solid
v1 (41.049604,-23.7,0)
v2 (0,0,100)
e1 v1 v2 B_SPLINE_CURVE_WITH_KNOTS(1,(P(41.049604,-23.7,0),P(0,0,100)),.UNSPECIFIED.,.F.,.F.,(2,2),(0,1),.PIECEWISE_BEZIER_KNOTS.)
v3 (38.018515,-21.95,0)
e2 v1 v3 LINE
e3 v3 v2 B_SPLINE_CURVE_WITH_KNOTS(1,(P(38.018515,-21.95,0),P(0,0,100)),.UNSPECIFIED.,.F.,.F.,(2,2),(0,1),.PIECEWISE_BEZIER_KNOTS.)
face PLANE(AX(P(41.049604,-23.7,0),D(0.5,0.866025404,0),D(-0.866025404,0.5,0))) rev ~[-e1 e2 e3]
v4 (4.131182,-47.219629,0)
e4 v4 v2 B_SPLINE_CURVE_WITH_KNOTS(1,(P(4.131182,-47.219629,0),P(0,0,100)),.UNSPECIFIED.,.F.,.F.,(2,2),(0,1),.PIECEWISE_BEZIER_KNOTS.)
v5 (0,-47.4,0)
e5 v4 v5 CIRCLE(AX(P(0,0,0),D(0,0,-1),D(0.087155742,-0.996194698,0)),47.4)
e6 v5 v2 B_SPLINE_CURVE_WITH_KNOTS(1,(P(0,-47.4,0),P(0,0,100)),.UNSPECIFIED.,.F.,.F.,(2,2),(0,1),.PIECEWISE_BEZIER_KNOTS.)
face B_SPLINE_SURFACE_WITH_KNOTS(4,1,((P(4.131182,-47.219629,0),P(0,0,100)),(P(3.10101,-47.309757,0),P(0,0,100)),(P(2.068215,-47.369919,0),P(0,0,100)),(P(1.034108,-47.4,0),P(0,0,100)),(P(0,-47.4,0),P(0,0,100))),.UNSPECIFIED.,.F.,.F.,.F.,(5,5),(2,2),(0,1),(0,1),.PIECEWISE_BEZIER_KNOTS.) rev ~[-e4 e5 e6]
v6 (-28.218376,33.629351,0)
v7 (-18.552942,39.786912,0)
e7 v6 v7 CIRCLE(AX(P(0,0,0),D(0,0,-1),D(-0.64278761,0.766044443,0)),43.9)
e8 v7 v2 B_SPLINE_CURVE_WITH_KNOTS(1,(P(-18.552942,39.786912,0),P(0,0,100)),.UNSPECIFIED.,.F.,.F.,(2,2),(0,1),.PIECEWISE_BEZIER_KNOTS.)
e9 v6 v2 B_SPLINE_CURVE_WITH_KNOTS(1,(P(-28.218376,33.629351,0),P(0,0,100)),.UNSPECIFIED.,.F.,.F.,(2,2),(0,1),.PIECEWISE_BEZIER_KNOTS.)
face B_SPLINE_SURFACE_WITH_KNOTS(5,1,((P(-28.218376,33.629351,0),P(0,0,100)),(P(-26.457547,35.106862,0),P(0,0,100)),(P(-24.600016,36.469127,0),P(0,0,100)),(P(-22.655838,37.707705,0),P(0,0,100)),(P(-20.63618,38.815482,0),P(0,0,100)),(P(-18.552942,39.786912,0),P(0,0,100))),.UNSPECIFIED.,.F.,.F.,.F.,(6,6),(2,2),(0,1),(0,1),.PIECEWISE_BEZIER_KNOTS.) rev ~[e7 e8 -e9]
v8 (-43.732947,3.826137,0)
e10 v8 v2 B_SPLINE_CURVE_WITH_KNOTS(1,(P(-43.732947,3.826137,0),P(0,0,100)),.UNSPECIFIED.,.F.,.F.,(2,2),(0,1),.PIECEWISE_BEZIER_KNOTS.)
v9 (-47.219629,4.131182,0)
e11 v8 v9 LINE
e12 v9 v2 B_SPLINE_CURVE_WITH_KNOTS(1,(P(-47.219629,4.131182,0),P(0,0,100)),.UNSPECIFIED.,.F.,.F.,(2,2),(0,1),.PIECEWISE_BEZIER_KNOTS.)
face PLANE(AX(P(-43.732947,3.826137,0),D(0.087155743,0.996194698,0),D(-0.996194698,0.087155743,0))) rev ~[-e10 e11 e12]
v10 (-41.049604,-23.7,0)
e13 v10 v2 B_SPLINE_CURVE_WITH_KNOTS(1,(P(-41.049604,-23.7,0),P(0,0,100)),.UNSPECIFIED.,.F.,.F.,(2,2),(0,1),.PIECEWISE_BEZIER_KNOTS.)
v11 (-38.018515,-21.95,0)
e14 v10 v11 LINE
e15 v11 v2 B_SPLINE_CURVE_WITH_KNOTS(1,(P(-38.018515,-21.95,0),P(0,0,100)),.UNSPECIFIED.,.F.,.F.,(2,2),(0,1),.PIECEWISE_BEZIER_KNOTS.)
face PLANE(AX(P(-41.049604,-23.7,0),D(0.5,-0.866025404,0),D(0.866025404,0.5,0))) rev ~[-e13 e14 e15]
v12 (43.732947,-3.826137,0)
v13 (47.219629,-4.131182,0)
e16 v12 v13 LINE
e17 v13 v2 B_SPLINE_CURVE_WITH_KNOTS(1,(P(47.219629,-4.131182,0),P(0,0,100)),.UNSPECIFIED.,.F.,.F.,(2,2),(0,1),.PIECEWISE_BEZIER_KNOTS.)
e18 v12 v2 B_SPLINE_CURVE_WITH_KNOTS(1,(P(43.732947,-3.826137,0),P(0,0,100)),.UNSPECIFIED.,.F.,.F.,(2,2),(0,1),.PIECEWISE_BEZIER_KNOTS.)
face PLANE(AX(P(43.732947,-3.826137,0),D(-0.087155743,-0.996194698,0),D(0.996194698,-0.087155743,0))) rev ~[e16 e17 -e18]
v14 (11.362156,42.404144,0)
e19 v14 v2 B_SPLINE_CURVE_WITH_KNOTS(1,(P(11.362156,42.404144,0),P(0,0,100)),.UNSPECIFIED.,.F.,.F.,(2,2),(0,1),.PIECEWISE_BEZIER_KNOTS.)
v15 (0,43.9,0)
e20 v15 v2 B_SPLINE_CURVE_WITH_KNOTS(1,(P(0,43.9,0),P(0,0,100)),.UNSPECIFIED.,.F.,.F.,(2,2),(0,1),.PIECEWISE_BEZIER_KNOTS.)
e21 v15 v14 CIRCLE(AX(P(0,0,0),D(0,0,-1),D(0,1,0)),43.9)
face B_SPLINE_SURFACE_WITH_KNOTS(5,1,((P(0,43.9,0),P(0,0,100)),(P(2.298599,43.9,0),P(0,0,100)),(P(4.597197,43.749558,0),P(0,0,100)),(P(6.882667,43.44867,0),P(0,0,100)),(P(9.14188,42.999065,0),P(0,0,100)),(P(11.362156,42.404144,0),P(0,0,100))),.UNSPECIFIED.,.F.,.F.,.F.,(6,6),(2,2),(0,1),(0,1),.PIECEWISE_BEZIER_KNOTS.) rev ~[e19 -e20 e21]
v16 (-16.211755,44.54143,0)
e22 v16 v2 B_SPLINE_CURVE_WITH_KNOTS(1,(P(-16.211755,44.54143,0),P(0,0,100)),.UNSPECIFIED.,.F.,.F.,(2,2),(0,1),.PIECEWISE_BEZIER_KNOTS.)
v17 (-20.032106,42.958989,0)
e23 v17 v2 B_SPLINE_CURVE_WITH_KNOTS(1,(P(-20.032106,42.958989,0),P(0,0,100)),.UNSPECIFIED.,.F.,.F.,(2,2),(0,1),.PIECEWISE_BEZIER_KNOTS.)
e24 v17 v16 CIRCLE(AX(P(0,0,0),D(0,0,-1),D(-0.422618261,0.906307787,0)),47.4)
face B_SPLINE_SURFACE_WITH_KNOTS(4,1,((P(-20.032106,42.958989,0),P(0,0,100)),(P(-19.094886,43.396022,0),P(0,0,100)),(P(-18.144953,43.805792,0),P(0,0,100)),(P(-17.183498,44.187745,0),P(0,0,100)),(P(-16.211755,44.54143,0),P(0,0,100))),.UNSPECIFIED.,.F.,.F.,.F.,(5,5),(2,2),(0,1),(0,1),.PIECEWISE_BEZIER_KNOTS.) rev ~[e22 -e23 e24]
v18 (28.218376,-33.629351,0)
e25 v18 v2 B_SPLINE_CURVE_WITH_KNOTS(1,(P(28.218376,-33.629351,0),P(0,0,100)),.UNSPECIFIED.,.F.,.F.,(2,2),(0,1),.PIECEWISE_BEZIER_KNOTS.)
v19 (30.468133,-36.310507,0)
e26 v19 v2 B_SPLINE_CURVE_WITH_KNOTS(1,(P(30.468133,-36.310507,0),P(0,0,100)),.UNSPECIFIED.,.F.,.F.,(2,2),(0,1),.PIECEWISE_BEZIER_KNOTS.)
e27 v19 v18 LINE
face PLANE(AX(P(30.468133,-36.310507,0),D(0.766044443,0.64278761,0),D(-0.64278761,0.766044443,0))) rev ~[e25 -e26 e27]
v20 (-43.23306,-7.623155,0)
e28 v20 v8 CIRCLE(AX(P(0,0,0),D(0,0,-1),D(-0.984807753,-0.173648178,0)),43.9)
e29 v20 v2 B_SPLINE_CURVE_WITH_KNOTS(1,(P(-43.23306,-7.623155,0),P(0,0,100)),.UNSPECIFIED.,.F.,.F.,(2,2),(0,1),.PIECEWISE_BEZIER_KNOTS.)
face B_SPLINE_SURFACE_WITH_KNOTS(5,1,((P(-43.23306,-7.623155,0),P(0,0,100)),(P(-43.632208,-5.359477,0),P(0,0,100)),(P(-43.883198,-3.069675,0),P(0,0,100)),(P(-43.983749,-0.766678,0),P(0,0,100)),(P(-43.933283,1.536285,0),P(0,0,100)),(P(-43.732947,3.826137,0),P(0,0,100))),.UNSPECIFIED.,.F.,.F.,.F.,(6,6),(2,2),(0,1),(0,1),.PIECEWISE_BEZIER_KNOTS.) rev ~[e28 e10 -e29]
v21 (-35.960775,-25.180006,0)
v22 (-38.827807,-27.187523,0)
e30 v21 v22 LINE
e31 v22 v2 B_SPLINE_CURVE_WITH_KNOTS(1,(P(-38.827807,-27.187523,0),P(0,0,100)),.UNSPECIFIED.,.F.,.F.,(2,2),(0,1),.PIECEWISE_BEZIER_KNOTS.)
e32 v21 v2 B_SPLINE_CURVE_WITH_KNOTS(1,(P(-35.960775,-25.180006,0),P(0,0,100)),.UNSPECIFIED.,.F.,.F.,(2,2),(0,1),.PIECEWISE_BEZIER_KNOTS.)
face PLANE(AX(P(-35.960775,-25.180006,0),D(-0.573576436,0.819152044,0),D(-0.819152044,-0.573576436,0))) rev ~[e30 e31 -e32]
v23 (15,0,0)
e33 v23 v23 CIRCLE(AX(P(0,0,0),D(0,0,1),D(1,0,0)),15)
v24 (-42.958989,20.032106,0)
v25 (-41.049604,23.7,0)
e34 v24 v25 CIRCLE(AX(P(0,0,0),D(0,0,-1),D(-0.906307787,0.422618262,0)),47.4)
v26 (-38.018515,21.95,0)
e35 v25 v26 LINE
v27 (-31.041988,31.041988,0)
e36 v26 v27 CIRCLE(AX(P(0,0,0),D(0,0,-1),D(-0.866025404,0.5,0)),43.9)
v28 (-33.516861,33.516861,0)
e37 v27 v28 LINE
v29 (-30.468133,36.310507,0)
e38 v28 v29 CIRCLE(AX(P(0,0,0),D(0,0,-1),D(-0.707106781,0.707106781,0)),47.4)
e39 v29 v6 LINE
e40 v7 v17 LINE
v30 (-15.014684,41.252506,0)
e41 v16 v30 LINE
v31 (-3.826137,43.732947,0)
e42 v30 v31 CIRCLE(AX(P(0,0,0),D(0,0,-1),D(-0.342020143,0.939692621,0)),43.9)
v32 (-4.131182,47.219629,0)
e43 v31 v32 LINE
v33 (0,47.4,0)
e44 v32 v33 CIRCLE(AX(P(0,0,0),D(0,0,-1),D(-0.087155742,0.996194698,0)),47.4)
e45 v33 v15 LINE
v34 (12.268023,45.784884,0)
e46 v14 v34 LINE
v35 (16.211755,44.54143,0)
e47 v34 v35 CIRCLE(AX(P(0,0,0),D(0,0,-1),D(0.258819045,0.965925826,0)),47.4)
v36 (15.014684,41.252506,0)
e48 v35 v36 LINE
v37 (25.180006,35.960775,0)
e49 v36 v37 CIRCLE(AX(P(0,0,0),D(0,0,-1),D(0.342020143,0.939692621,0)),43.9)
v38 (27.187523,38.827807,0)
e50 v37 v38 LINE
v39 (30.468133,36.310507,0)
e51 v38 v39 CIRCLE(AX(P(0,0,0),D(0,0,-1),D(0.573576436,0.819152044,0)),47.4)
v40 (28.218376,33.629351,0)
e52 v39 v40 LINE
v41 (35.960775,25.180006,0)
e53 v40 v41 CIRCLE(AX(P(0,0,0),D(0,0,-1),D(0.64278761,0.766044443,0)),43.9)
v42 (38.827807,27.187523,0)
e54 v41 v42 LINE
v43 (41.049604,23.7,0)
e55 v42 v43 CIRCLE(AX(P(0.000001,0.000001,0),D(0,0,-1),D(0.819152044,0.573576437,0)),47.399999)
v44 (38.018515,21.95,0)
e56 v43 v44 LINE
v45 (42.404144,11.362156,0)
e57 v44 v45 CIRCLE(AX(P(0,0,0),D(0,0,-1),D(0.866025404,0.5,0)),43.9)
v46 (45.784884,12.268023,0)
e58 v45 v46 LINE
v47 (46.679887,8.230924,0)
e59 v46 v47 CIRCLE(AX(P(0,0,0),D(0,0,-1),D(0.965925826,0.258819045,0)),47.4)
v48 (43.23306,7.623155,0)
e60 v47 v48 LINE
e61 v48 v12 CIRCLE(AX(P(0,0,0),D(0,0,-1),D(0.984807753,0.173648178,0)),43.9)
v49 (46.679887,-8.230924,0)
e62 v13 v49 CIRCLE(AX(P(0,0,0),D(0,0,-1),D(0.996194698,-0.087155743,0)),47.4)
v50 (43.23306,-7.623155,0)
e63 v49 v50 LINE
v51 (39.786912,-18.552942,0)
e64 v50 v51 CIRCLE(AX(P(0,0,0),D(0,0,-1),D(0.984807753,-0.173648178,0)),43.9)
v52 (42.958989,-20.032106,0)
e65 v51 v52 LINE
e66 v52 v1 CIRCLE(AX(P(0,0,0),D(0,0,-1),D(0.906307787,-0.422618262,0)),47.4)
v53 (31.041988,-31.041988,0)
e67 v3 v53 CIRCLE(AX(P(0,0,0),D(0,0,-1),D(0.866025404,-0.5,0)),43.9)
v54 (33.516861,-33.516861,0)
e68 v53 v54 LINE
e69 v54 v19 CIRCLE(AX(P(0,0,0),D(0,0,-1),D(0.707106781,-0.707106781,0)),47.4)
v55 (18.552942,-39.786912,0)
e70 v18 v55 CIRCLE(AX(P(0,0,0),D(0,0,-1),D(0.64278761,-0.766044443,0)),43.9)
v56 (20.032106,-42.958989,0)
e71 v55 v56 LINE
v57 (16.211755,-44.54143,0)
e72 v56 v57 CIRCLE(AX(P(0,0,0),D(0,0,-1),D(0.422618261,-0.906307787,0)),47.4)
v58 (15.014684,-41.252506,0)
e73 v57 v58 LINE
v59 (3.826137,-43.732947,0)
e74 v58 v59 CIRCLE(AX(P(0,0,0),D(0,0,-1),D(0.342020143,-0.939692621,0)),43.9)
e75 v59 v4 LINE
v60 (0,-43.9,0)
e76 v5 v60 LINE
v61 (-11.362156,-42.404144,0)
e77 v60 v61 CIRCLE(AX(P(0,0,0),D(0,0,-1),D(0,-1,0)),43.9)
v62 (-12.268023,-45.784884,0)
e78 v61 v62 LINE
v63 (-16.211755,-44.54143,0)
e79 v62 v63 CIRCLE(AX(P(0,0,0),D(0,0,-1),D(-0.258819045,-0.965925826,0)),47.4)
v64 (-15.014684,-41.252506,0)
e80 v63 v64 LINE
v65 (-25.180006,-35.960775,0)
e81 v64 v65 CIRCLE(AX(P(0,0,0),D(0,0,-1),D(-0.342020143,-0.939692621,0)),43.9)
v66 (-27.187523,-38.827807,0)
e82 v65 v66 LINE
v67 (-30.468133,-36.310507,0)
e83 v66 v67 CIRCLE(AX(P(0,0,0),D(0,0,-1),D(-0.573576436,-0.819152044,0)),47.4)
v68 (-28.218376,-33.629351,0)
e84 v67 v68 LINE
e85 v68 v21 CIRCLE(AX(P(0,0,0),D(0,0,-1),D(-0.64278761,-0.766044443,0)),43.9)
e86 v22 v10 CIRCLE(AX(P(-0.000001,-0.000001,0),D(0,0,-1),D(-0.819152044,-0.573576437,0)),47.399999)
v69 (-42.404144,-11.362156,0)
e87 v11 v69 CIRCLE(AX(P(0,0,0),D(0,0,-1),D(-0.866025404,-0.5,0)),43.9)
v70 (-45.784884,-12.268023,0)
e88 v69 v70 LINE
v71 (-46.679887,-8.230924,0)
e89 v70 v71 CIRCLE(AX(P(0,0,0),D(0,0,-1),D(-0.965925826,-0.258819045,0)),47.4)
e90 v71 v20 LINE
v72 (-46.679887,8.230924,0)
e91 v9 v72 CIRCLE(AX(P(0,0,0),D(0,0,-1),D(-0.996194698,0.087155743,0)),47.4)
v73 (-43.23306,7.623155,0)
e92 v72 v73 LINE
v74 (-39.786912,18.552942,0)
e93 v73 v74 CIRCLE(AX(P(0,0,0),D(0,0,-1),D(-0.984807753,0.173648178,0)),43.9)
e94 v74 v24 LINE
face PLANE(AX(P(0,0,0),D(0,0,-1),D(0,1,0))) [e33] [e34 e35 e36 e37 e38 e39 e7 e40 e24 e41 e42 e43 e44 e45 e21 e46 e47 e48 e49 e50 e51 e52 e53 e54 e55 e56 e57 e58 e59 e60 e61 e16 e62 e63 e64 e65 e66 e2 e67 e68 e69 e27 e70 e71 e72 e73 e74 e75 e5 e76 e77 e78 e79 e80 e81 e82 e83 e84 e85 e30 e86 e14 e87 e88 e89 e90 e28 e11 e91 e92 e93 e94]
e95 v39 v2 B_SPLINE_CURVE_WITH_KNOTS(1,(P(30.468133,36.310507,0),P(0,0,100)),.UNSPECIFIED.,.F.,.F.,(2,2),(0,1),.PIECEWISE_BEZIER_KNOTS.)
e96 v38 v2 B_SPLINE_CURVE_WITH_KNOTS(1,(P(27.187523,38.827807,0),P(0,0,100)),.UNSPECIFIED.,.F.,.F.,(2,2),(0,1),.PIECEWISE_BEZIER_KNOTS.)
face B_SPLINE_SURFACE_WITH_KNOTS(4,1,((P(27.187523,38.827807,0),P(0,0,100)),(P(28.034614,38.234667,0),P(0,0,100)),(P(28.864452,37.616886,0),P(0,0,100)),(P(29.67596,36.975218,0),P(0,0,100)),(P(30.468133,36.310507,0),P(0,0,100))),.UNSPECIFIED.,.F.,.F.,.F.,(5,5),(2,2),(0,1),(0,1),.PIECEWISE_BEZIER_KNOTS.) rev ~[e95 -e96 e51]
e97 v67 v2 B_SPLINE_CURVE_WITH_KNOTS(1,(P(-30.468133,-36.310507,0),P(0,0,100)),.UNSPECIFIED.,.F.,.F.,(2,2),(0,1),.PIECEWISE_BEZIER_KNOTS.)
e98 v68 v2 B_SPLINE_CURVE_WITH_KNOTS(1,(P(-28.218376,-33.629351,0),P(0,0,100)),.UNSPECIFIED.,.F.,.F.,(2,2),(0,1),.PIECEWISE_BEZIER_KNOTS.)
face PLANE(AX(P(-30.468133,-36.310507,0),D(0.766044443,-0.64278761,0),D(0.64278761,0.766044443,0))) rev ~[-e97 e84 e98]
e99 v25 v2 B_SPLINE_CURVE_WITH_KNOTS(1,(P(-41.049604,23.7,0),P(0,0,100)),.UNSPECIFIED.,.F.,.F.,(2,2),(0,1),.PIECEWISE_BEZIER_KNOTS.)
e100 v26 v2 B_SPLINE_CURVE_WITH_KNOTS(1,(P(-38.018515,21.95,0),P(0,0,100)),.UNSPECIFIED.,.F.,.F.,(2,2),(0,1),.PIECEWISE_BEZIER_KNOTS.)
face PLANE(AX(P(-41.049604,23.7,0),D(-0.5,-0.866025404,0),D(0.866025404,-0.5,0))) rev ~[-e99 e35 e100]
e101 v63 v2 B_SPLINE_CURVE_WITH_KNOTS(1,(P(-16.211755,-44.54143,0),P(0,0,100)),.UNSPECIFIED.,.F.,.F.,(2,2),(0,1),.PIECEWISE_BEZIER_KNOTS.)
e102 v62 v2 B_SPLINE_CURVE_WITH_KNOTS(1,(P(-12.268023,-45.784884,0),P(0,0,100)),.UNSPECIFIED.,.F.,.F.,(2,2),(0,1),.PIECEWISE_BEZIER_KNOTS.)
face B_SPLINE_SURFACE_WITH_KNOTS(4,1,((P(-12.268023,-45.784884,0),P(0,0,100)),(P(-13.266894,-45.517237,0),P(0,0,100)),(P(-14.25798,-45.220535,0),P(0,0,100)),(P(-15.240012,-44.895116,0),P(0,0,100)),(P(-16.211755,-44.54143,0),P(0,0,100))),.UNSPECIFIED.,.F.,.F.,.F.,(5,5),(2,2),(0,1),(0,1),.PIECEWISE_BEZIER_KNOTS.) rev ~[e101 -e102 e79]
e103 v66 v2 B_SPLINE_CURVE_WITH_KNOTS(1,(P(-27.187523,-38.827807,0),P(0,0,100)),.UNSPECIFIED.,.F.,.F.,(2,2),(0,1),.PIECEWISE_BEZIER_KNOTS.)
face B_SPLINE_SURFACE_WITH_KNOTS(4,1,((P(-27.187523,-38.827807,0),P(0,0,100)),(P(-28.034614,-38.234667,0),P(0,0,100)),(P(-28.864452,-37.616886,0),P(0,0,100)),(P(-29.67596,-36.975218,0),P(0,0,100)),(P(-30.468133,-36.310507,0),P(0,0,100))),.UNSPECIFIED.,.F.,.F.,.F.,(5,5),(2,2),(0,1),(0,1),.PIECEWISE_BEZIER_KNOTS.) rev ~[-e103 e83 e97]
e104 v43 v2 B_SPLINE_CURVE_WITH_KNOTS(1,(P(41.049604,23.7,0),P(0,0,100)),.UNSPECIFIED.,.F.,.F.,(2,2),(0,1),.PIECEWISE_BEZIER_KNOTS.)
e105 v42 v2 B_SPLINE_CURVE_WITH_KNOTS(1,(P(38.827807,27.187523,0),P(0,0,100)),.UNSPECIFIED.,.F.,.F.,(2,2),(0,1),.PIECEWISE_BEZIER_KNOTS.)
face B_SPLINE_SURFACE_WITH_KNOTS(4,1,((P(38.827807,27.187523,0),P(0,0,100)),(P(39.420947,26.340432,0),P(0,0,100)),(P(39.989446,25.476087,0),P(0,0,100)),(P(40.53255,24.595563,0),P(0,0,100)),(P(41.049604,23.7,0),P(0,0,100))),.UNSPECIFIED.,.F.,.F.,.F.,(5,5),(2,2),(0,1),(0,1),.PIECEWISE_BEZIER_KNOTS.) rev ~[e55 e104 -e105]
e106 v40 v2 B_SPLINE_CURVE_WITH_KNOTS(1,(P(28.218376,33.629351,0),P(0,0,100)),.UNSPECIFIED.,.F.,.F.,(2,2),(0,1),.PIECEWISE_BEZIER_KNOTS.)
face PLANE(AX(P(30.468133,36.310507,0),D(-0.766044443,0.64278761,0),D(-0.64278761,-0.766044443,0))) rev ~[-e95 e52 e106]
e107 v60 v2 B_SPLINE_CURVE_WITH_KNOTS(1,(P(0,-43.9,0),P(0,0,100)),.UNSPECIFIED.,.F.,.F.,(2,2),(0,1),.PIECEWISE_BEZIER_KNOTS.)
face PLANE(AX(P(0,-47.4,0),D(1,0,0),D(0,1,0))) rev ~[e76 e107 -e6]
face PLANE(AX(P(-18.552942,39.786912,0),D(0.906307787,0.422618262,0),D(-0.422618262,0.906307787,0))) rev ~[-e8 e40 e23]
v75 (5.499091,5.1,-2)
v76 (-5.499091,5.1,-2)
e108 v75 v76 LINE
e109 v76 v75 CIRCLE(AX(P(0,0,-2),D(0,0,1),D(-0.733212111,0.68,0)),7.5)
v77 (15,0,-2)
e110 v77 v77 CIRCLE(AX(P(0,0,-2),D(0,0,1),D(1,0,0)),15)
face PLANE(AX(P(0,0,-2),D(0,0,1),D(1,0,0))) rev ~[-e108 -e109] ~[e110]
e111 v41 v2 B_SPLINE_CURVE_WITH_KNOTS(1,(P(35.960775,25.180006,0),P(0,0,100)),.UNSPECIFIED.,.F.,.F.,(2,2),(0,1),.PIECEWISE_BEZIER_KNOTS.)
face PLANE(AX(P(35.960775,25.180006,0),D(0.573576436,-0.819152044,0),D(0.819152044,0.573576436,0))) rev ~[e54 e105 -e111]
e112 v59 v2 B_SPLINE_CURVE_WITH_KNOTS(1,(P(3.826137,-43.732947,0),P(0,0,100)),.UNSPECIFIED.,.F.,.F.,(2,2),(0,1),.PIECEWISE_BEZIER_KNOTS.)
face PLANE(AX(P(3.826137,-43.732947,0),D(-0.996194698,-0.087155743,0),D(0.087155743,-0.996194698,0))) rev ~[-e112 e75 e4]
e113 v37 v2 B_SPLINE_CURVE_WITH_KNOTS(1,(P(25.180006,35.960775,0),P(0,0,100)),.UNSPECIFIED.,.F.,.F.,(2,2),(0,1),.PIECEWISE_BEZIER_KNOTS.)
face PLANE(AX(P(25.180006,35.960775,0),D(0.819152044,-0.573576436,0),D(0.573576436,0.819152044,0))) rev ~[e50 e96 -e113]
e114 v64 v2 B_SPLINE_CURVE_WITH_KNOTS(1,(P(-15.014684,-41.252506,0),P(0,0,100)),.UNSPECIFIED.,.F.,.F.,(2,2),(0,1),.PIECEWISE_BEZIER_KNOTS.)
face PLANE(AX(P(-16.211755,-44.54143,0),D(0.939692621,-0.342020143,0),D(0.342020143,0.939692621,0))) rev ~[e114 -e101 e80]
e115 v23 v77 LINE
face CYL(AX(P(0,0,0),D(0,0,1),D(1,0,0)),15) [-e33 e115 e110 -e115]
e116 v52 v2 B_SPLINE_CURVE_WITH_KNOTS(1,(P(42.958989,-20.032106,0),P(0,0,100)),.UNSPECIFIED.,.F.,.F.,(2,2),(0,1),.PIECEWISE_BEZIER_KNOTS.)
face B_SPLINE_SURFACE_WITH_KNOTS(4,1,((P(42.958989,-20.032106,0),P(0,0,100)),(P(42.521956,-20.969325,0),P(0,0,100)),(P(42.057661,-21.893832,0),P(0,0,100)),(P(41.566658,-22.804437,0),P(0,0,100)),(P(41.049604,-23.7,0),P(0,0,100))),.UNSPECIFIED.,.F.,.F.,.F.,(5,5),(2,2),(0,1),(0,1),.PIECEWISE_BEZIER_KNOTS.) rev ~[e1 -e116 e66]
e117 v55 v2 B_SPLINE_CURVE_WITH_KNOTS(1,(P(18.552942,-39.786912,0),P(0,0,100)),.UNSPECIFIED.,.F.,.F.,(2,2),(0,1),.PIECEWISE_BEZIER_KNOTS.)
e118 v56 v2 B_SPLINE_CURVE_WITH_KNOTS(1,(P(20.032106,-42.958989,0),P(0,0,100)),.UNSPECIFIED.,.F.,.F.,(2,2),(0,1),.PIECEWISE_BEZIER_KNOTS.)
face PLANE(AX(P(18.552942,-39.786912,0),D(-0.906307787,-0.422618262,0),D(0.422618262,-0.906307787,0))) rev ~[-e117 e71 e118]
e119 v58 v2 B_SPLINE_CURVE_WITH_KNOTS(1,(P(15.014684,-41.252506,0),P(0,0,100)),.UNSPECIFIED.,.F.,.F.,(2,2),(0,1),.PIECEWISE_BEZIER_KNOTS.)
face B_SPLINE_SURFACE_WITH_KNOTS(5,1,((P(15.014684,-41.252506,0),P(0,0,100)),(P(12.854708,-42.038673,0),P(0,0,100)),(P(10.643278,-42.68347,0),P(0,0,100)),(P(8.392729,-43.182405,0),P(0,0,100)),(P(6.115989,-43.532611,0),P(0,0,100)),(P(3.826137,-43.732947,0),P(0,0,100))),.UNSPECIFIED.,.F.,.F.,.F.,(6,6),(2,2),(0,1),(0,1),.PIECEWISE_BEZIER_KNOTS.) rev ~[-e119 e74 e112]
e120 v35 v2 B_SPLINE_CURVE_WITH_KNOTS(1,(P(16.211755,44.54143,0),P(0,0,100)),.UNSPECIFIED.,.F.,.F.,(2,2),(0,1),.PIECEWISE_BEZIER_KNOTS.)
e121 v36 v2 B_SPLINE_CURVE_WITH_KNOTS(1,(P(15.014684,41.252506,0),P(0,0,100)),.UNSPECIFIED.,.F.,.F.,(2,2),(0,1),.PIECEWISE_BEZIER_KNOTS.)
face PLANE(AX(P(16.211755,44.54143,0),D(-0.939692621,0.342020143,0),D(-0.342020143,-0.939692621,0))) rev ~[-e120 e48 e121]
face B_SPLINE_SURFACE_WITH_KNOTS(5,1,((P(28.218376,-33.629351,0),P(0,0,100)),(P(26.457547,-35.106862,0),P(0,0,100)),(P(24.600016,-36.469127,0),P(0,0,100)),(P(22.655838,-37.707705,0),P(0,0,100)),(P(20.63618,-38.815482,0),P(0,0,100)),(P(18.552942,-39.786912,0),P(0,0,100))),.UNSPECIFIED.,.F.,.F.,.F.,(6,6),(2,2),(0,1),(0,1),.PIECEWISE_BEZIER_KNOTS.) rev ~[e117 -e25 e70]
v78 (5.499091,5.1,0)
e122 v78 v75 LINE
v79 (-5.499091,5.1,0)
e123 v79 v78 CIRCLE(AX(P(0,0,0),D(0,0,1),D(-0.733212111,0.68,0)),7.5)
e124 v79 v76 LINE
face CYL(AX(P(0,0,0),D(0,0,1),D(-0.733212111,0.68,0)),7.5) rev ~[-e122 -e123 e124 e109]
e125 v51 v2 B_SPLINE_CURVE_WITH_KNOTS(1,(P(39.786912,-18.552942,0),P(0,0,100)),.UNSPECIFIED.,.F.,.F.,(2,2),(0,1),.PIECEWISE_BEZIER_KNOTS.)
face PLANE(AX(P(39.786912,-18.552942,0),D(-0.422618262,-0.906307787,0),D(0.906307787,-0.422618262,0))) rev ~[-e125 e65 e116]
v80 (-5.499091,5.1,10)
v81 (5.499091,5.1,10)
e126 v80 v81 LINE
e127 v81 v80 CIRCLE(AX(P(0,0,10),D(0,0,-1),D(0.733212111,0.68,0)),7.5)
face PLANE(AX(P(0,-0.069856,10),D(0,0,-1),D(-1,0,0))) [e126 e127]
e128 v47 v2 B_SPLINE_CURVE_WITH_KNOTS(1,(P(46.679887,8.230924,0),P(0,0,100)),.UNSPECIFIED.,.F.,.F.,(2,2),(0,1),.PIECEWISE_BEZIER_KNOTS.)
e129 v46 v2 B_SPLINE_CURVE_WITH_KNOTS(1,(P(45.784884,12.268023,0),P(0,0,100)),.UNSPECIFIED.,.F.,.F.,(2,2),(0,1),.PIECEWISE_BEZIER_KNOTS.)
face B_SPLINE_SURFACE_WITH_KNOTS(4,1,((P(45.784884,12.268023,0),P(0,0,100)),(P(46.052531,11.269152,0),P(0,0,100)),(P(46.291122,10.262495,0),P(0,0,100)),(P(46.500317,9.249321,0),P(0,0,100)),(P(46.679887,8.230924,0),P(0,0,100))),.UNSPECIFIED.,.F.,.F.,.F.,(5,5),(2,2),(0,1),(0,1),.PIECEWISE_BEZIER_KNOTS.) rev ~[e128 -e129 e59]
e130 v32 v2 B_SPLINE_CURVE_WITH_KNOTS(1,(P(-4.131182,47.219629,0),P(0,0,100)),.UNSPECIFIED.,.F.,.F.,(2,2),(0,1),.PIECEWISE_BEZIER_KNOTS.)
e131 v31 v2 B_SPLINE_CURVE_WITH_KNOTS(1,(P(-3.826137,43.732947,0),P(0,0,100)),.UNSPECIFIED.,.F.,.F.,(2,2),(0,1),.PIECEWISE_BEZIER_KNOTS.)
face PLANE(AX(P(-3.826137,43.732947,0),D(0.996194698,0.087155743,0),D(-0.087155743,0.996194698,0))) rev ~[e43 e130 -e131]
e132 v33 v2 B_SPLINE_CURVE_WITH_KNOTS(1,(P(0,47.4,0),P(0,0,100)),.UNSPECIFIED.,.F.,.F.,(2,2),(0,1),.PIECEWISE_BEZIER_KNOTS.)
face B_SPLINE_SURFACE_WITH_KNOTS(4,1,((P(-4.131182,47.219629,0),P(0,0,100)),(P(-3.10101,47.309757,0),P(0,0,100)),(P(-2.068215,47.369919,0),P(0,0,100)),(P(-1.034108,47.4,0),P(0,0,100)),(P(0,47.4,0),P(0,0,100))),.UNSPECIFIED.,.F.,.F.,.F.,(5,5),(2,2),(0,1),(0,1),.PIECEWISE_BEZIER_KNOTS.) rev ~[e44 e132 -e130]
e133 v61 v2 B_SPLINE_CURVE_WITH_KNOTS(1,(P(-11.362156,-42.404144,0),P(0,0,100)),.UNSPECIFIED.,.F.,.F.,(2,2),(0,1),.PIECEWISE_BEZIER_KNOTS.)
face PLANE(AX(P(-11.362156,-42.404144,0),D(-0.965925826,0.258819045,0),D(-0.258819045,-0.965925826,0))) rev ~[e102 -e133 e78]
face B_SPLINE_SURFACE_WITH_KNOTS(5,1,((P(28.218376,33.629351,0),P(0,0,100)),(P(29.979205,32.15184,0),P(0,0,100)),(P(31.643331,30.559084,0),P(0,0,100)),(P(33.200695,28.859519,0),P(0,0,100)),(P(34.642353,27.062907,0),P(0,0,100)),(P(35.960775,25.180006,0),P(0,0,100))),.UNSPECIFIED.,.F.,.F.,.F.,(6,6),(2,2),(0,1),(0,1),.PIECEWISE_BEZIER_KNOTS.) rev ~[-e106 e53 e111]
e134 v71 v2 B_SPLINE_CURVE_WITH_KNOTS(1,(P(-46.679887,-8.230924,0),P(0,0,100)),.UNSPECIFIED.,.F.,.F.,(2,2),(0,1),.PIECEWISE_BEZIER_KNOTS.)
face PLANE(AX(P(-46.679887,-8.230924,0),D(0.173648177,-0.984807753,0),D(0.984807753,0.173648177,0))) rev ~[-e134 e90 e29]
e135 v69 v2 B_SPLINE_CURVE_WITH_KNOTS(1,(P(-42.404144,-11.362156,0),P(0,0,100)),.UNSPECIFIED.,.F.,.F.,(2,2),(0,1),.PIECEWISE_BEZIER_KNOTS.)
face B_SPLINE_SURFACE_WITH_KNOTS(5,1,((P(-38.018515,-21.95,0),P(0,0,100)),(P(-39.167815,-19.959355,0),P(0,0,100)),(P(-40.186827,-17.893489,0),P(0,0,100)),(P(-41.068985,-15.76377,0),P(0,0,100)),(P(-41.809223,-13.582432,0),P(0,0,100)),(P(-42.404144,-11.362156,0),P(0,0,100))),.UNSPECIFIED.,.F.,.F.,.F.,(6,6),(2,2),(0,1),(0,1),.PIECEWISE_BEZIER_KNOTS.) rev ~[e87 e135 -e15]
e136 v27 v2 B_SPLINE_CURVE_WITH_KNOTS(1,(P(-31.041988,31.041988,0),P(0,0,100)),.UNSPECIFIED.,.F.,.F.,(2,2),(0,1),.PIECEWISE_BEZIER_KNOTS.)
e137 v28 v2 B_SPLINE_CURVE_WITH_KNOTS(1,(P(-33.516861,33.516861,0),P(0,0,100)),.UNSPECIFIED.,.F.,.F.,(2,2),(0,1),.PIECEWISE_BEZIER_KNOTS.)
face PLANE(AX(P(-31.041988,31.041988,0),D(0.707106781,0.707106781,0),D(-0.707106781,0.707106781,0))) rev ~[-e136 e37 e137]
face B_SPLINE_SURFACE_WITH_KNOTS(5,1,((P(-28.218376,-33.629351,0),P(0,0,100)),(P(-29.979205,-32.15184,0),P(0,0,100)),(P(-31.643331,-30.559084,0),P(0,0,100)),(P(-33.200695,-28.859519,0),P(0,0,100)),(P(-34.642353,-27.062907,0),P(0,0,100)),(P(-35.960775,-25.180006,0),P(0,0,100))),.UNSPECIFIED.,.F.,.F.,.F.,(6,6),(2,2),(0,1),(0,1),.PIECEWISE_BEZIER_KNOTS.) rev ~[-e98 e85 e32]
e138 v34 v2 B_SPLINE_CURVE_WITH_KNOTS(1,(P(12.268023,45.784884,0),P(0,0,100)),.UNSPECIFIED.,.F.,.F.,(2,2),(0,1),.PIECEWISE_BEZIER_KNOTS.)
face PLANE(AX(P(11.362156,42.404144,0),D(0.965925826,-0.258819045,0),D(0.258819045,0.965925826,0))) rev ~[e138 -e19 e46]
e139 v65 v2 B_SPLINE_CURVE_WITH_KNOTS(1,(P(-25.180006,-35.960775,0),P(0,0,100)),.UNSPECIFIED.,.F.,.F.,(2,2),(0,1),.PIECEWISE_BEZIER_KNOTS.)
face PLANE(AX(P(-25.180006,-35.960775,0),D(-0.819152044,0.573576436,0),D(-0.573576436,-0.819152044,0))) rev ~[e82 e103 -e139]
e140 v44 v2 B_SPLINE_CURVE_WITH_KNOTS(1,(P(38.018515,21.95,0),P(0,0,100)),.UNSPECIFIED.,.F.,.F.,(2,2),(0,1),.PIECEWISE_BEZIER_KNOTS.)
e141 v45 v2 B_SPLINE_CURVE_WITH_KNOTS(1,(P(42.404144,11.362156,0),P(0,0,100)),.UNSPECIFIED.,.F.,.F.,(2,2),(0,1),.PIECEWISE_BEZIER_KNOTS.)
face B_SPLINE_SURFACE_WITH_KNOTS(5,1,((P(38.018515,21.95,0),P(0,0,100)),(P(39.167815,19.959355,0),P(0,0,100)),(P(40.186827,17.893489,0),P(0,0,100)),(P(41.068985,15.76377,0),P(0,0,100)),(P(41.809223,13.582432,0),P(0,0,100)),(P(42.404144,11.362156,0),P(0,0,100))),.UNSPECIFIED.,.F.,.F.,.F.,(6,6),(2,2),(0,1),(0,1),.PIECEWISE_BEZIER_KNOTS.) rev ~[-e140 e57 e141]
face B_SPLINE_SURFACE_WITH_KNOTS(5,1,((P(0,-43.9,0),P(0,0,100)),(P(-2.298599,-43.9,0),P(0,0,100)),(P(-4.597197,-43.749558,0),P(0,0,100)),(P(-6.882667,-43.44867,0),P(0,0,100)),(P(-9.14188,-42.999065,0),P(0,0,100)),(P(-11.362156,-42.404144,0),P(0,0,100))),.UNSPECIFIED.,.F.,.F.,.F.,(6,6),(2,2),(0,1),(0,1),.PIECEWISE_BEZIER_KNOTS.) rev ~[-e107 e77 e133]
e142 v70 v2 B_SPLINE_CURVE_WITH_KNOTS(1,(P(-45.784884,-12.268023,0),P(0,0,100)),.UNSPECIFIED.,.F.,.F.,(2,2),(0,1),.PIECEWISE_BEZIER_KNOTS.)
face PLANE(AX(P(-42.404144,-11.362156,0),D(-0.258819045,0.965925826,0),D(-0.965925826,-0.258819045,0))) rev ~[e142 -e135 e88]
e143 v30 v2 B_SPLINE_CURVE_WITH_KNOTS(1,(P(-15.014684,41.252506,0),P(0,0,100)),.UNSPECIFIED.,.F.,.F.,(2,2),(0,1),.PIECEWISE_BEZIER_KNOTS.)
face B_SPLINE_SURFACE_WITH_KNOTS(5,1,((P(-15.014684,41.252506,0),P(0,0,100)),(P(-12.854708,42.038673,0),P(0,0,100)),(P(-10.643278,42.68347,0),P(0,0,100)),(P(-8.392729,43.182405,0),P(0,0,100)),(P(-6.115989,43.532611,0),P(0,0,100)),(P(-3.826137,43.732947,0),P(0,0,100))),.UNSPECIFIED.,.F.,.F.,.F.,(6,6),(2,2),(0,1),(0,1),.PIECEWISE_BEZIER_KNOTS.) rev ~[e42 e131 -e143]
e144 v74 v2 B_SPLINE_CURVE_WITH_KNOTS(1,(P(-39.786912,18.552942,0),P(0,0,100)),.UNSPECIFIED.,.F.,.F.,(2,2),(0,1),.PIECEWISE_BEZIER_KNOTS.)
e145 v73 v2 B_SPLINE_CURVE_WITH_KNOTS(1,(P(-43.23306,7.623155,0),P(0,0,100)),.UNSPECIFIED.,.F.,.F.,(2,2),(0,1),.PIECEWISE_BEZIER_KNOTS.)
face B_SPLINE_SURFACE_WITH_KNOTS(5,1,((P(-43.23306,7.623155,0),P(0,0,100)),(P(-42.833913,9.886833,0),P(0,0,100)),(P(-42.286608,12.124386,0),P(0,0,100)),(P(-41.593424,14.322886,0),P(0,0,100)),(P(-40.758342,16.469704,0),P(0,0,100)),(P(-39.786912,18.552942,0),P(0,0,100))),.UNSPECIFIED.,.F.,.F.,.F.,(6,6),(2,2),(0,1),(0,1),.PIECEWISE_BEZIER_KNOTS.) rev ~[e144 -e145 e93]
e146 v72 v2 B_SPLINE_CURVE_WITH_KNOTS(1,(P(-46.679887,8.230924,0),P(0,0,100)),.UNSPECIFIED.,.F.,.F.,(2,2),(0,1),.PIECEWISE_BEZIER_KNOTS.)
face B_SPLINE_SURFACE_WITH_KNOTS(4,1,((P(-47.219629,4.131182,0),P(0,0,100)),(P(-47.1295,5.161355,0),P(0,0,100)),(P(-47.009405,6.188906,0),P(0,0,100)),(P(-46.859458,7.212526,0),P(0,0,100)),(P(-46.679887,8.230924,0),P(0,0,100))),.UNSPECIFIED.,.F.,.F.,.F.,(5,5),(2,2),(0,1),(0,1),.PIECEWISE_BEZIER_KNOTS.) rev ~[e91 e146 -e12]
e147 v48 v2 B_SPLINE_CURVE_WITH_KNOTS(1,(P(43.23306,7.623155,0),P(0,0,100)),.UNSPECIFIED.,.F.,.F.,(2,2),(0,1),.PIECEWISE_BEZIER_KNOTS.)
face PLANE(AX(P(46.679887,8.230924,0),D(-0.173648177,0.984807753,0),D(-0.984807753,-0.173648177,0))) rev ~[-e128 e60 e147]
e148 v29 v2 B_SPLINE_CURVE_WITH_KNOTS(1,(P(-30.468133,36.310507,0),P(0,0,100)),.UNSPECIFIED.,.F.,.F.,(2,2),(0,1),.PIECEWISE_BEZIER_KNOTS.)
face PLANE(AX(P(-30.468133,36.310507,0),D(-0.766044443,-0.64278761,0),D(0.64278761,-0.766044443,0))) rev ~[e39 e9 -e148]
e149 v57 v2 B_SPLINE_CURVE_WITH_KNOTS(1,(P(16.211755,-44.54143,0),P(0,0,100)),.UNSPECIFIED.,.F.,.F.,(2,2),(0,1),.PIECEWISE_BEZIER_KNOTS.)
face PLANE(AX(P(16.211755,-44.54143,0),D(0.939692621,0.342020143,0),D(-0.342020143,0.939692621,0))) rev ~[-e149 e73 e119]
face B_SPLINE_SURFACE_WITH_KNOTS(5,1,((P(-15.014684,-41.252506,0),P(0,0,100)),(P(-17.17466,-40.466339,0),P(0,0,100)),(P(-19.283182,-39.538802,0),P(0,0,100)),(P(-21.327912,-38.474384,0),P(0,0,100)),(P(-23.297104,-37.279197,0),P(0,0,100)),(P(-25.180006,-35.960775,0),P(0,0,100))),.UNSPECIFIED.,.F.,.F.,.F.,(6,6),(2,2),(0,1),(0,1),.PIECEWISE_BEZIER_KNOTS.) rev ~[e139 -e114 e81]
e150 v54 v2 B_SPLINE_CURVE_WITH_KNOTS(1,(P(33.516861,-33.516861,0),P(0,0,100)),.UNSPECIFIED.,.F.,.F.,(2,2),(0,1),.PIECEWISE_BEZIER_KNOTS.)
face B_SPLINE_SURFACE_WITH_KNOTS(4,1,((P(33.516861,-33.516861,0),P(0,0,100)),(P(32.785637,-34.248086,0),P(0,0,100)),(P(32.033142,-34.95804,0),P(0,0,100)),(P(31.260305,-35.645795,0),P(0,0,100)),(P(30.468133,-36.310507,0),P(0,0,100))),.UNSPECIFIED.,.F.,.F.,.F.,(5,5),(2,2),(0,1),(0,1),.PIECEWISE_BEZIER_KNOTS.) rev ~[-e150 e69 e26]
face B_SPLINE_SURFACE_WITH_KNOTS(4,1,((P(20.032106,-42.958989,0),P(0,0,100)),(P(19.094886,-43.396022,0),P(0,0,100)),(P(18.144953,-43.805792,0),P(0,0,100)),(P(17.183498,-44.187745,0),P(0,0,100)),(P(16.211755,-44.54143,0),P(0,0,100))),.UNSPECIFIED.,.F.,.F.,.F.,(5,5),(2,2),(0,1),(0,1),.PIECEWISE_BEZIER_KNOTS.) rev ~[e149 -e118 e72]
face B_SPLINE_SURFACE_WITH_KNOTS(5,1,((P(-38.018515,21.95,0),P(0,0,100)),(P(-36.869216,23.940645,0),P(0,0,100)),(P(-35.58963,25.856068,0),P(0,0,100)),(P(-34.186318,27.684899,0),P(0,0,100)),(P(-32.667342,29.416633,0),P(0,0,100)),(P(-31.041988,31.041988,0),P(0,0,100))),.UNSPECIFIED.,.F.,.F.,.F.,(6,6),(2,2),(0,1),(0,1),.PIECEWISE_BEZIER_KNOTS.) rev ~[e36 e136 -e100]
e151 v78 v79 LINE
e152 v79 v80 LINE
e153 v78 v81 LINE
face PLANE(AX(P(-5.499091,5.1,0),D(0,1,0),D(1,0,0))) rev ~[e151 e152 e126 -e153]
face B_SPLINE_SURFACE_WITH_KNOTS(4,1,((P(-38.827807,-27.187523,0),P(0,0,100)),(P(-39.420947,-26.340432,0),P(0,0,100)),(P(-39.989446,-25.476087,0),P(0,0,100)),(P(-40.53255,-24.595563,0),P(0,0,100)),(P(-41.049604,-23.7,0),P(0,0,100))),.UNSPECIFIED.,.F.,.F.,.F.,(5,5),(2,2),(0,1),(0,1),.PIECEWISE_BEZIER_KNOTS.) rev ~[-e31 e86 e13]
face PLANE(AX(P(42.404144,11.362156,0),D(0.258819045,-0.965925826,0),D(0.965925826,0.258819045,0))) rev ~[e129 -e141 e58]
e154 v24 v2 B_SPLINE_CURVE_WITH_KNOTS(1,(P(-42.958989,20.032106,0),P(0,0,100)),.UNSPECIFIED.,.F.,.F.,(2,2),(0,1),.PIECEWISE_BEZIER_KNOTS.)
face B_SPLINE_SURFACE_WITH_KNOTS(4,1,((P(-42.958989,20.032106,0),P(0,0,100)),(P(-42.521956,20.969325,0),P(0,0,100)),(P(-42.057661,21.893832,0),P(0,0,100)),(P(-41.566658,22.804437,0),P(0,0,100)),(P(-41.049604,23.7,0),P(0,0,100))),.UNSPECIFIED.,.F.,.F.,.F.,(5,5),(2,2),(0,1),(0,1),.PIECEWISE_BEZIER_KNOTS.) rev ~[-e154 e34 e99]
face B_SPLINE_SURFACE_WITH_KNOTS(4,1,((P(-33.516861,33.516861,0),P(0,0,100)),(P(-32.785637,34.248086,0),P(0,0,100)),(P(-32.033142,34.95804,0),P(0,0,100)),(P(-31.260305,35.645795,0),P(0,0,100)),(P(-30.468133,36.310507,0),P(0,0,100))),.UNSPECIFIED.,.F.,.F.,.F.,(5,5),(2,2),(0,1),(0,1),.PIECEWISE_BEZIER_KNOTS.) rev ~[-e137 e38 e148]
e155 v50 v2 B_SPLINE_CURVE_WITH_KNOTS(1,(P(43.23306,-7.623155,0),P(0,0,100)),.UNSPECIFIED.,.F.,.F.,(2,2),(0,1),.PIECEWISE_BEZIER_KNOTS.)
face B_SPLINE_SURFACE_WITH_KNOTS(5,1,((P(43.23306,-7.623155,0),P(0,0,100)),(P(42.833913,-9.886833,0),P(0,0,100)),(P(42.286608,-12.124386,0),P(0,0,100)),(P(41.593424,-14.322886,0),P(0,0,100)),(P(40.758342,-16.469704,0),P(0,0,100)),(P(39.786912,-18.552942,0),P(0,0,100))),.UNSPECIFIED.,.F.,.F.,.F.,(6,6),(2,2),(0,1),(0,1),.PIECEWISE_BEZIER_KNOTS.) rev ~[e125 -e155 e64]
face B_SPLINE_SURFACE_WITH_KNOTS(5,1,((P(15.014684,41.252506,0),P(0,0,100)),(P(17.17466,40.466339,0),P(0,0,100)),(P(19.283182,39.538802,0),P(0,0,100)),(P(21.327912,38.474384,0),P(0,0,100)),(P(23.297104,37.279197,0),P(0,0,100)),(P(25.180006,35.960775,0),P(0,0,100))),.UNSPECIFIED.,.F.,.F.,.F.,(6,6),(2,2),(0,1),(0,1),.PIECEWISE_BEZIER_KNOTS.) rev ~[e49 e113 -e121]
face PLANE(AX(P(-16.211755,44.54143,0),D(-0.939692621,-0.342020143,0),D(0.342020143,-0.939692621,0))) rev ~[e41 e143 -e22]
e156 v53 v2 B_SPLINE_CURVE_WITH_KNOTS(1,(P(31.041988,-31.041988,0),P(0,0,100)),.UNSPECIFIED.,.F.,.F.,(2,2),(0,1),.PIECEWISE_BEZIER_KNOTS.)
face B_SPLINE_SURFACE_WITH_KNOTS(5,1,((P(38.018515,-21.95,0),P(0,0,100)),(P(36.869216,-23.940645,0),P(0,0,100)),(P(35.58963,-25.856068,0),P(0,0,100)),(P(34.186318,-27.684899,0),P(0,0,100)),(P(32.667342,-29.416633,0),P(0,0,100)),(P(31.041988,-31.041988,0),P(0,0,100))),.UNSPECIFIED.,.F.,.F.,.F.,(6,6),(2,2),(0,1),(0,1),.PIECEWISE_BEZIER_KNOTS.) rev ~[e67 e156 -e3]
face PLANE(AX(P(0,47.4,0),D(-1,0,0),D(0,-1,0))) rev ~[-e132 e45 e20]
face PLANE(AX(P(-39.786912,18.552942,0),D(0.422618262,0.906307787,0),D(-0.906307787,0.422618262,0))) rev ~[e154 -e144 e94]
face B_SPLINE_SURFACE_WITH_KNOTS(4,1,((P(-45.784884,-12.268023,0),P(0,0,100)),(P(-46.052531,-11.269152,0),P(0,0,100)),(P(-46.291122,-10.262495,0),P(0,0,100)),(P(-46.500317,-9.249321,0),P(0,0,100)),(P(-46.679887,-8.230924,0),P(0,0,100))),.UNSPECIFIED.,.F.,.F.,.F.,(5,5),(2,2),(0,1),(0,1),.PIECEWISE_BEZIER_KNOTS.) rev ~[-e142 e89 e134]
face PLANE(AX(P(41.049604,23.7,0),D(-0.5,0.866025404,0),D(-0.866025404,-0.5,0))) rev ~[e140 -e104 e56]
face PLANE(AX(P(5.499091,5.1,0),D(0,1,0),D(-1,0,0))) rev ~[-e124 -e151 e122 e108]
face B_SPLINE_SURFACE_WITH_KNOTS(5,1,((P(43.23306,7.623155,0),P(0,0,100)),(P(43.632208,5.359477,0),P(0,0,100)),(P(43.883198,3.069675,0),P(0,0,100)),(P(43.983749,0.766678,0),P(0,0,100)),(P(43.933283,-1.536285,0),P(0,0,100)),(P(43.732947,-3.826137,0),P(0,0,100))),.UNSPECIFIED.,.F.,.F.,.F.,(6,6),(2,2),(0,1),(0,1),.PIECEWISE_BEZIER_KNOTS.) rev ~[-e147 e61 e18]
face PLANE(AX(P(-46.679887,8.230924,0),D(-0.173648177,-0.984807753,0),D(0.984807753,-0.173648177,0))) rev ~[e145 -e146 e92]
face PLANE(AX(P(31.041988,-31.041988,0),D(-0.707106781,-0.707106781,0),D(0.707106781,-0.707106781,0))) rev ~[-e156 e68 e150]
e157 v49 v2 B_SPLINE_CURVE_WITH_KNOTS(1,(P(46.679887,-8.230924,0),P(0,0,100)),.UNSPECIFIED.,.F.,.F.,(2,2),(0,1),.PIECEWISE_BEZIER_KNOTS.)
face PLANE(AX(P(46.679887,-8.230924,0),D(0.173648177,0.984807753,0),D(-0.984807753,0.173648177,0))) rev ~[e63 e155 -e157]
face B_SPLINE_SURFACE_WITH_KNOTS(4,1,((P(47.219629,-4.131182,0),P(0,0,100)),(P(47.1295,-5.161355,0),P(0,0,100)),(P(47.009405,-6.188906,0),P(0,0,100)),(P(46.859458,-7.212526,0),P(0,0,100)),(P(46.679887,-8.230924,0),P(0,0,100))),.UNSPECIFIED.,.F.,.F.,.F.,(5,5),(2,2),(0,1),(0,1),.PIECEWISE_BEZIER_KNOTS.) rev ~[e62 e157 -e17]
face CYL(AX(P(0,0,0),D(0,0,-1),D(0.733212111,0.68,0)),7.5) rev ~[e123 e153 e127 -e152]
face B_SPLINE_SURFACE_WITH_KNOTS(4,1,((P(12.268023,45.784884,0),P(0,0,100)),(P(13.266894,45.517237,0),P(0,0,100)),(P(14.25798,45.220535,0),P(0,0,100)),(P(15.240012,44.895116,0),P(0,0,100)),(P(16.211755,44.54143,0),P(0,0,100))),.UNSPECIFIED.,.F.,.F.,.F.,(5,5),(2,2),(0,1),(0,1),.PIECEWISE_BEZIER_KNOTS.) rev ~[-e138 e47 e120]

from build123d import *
from build123d.topology import SkipClean

# Parameters (mm, degrees)
SKETCH1_R           = 15
BOSS_EXTRUDE1_DEPTH = 2
CUT_EXTRUDE1_START  = 10
CUT_EXTRUDE1_DEPTH  = 10


with BuildPart() as part:
    # Sketch1 → Boss-Extrude1 (new body)
    with BuildSketch(Plane.XY):
        Circle(SKETCH1_R)
        with BuildLine():
            ThreePointArc((5.499090834, 5.1), (0, -7.5), (-5.499090834, 5.1))
            Line((-5.499090834, 5.1), (5.499090834, 5.1))
        make_face(mode=Mode.SUBTRACT)
    extrude(amount=-BOSS_EXTRUDE1_DEPTH)

    # Sketch3 → Loft2 section 0
    with BuildSketch(Plane.XY, mode=Mode.PRIVATE) as loft2_s0:
        with BuildLine():
            Line((0, 47.4), (0, 43.9))
            ThreePointArc((0, 43.9), (5.730099838, 43.524429414), (11.36215608, 42.404143774))
            Line((11.36215608, 42.404143774), (12.268022738, 45.784884166))
            ThreePointArc((12.268022738, 45.784884166), (14.253454897, 45.206183465), (16.211754794, 44.541430225))
            Line((16.211754794, 44.541430225), (15.014684292, 41.252506053))
            ThreePointArc((15.014684292, 41.252506053), (20.270764121, 38.939775577), (25.180005556, 35.960774744))
            Line((25.180005556, 35.960774744), (27.187523083, 38.827806899))
            ThreePointArc((27.187523083, 38.827806899), (28.855291735, 37.60494833), (30.468132699, 36.310506604))
            Line((30.468132699, 36.310506604), (28.218376065, 33.629351053))
            ThreePointArc((28.218376065, 33.629351053), (32.366475086, 29.658410114), (35.960774744, 25.180005556))
            Line((35.960774744, 25.180005556), (38.827806899, 27.187523083))
            ThreePointArc((38.827806899, 27.187523083), (39.976754532, 25.468001436), (41.049604139, 23.7))
            Line((41.049604139, 23.7), (38.018515226, 21.95))
            ThreePointArc((38.018515226, 21.95), (40.558311477, 16.799802681), (42.404143774, 11.36215608))
            Line((42.404143774, 11.36215608), (45.784884166, 12.268022738))
            ThreePointArc((45.784884166, 12.268022738), (46.276430737, 10.259237701), (46.679887493, 8.230923621))
            Line((46.679887493, 8.230923621), (43.233060357, 7.623155))
            ThreePointArc((43.233060357, 7.623155), (43.858216927, 1.914891105), (43.732947246, -3.826137107))
            Line((43.732947246, -3.826137107), (47.21962869, -4.131182206))
            ThreePointArc((47.21962869, -4.131182206), (46.994486429, -6.186941511), (46.679887493, -8.230923621))
            Line((46.679887493, -8.230923621), (43.233060357, -7.623155))
            ThreePointArc((43.233060357, -7.623155), (41.868174138, -13.200984598), (39.786911851, -18.55294169))
            Line((39.786911851, -18.55294169), (42.958989106, -20.032105607))
            ThreePointArc((42.958989106, -20.032105607), (42.044313493, -21.886884267), (41.049604139, -23.7))
            Line((41.049604139, -23.7), (38.018515226, -21.95))
            ThreePointArc((38.018515226, -21.95), (34.828211639, -26.724626733), (31.041987694, -31.041987694))
            Line((31.041987694, -31.041987694), (33.516861428, -33.516861428))
            ThreePointArc((33.516861428, -33.516861428), (32.022975841, -34.946945765), (30.468132699, -36.310506604))
            Line((30.468132699, -36.310506604), (28.218376065, -33.629351053))
            ThreePointArc((28.218376065, -33.629351053), (23.587452806, -37.024884471), (18.55294169, -39.786911851))
            Line((18.55294169, -39.786911851), (20.032105607, -42.958989106))
            ThreePointArc((20.032105607, -42.958989106), (18.139194694, -43.791889841), (16.211754794, -44.541430225))
            Line((16.211754794, -44.541430225), (15.014684292, -41.252506053))
            ThreePointArc((15.014684292, -41.252506053), (9.501699052, -42.859394713), (3.826137107, -43.732947246))
            Line((3.826137107, -43.732947246), (4.131182206, -47.21962869))
            ThreePointArc((4.131182206, -47.21962869), (2.067558961, -47.354885703), (0, -47.4))
            Line((0, -47.4), (0, -43.9))
            ThreePointArc((0, -43.9), (-5.730099838, -43.524429414), (-11.36215608, -42.404143774))
            Line((-11.36215608, -42.404143774), (-12.268022738, -45.784884166))
            ThreePointArc((-12.268022738, -45.784884166), (-14.253454897, -45.206183465), (-16.211754794, -44.541430225))
            Line((-16.211754794, -44.541430225), (-15.014684292, -41.252506053))
            ThreePointArc((-15.014684292, -41.252506053), (-20.270764121, -38.939775577), (-25.180005556, -35.960774744))
            Line((-25.180005556, -35.960774744), (-27.187523083, -38.827806899))
            ThreePointArc((-27.187523083, -38.827806899), (-28.855291735, -37.60494833), (-30.468132699, -36.310506604))
            Line((-30.468132699, -36.310506604), (-28.218376065, -33.629351053))
            ThreePointArc((-28.218376065, -33.629351053), (-32.366475086, -29.658410114), (-35.960774744, -25.180005556))
            Line((-35.960774744, -25.180005556), (-38.827806899, -27.187523083))
            ThreePointArc((-38.827806899, -27.187523083), (-39.976754532, -25.468001436), (-41.049604139, -23.7))
            Line((-41.049604139, -23.7), (-38.018515226, -21.95))
            ThreePointArc((-38.018515226, -21.95), (-40.558311477, -16.799802681), (-42.404143774, -11.36215608))
            Line((-42.404143774, -11.36215608), (-45.784884166, -12.268022738))
            ThreePointArc((-45.784884166, -12.268022738), (-46.276430737, -10.259237701), (-46.679887493, -8.230923621))
            Line((-46.679887493, -8.230923621), (-43.233060357, -7.623155))
            ThreePointArc((-43.233060357, -7.623155), (-43.858216927, -1.914891105), (-43.732947246, 3.826137107))
            Line((-43.732947246, 3.826137107), (-47.21962869, 4.131182206))
            ThreePointArc((-47.21962869, 4.131182206), (-46.994486429, 6.186941511), (-46.679887493, 8.230923621))
            Line((-46.679887493, 8.230923621), (-43.233060357, 7.623155))
            ThreePointArc((-43.233060357, 7.623155), (-41.868174138, 13.200984598), (-39.786911851, 18.55294169))
            Line((-39.786911851, 18.55294169), (-42.958989106, 20.032105607))
            ThreePointArc((-42.958989106, 20.032105607), (-42.044313493, 21.886884267), (-41.049604139, 23.7))
            Line((-41.049604139, 23.7), (-38.018515226, 21.95))
            ThreePointArc((-38.018515226, 21.95), (-34.828211639, 26.724626733), (-31.041987694, 31.041987694))
            Line((-31.041987694, 31.041987694), (-33.516861428, 33.516861428))
            ThreePointArc((-33.516861428, 33.516861428), (-32.022975841, 34.946945765), (-30.468132699, 36.310506604))
            Line((-30.468132699, 36.310506604), (-28.218376065, 33.629351053))
            ThreePointArc((-28.218376065, 33.629351053), (-23.587452806, 37.024884471), (-18.55294169, 39.786911851))
            Line((-18.55294169, 39.786911851), (-20.032105607, 42.958989106))
            ThreePointArc((-20.032105607, 42.958989106), (-18.139194694, 43.791889841), (-16.211754794, 44.541430225))
            Line((-16.211754794, 44.541430225), (-15.014684292, 41.252506053))
            ThreePointArc((-15.014684292, 41.252506053), (-9.501699052, 42.859394713), (-3.826137107, 43.732947246))
            Line((-3.826137107, 43.732947246), (-4.131182206, 47.21962869))
            ThreePointArc((-4.131182206, 47.21962869), (-2.067558961, 47.354885703), (0, 47.4))
        make_face()
    loft([loft2_s0.sketch, Vertex(0, 0, 100)])

    # Sketch1<4> → Cut-Extrude1 (cut)
    with SkipClean():  # the faces are left unmerged after this step: merging them gives an invalid solid
        with BuildSketch(Plane.XY.offset(CUT_EXTRUDE1_START)):
            with BuildLine():
                Line((5.499090834, 5.1), (-5.499090834, 5.1))
                ThreePointArc((-5.499090834, 5.1), (0, -7.5), (5.499090834, 5.1))
            make_face()
        extrude(amount=-CUT_EXTRUDE1_DEPTH, mode=Mode.SUBTRACT)


solid = part.part
